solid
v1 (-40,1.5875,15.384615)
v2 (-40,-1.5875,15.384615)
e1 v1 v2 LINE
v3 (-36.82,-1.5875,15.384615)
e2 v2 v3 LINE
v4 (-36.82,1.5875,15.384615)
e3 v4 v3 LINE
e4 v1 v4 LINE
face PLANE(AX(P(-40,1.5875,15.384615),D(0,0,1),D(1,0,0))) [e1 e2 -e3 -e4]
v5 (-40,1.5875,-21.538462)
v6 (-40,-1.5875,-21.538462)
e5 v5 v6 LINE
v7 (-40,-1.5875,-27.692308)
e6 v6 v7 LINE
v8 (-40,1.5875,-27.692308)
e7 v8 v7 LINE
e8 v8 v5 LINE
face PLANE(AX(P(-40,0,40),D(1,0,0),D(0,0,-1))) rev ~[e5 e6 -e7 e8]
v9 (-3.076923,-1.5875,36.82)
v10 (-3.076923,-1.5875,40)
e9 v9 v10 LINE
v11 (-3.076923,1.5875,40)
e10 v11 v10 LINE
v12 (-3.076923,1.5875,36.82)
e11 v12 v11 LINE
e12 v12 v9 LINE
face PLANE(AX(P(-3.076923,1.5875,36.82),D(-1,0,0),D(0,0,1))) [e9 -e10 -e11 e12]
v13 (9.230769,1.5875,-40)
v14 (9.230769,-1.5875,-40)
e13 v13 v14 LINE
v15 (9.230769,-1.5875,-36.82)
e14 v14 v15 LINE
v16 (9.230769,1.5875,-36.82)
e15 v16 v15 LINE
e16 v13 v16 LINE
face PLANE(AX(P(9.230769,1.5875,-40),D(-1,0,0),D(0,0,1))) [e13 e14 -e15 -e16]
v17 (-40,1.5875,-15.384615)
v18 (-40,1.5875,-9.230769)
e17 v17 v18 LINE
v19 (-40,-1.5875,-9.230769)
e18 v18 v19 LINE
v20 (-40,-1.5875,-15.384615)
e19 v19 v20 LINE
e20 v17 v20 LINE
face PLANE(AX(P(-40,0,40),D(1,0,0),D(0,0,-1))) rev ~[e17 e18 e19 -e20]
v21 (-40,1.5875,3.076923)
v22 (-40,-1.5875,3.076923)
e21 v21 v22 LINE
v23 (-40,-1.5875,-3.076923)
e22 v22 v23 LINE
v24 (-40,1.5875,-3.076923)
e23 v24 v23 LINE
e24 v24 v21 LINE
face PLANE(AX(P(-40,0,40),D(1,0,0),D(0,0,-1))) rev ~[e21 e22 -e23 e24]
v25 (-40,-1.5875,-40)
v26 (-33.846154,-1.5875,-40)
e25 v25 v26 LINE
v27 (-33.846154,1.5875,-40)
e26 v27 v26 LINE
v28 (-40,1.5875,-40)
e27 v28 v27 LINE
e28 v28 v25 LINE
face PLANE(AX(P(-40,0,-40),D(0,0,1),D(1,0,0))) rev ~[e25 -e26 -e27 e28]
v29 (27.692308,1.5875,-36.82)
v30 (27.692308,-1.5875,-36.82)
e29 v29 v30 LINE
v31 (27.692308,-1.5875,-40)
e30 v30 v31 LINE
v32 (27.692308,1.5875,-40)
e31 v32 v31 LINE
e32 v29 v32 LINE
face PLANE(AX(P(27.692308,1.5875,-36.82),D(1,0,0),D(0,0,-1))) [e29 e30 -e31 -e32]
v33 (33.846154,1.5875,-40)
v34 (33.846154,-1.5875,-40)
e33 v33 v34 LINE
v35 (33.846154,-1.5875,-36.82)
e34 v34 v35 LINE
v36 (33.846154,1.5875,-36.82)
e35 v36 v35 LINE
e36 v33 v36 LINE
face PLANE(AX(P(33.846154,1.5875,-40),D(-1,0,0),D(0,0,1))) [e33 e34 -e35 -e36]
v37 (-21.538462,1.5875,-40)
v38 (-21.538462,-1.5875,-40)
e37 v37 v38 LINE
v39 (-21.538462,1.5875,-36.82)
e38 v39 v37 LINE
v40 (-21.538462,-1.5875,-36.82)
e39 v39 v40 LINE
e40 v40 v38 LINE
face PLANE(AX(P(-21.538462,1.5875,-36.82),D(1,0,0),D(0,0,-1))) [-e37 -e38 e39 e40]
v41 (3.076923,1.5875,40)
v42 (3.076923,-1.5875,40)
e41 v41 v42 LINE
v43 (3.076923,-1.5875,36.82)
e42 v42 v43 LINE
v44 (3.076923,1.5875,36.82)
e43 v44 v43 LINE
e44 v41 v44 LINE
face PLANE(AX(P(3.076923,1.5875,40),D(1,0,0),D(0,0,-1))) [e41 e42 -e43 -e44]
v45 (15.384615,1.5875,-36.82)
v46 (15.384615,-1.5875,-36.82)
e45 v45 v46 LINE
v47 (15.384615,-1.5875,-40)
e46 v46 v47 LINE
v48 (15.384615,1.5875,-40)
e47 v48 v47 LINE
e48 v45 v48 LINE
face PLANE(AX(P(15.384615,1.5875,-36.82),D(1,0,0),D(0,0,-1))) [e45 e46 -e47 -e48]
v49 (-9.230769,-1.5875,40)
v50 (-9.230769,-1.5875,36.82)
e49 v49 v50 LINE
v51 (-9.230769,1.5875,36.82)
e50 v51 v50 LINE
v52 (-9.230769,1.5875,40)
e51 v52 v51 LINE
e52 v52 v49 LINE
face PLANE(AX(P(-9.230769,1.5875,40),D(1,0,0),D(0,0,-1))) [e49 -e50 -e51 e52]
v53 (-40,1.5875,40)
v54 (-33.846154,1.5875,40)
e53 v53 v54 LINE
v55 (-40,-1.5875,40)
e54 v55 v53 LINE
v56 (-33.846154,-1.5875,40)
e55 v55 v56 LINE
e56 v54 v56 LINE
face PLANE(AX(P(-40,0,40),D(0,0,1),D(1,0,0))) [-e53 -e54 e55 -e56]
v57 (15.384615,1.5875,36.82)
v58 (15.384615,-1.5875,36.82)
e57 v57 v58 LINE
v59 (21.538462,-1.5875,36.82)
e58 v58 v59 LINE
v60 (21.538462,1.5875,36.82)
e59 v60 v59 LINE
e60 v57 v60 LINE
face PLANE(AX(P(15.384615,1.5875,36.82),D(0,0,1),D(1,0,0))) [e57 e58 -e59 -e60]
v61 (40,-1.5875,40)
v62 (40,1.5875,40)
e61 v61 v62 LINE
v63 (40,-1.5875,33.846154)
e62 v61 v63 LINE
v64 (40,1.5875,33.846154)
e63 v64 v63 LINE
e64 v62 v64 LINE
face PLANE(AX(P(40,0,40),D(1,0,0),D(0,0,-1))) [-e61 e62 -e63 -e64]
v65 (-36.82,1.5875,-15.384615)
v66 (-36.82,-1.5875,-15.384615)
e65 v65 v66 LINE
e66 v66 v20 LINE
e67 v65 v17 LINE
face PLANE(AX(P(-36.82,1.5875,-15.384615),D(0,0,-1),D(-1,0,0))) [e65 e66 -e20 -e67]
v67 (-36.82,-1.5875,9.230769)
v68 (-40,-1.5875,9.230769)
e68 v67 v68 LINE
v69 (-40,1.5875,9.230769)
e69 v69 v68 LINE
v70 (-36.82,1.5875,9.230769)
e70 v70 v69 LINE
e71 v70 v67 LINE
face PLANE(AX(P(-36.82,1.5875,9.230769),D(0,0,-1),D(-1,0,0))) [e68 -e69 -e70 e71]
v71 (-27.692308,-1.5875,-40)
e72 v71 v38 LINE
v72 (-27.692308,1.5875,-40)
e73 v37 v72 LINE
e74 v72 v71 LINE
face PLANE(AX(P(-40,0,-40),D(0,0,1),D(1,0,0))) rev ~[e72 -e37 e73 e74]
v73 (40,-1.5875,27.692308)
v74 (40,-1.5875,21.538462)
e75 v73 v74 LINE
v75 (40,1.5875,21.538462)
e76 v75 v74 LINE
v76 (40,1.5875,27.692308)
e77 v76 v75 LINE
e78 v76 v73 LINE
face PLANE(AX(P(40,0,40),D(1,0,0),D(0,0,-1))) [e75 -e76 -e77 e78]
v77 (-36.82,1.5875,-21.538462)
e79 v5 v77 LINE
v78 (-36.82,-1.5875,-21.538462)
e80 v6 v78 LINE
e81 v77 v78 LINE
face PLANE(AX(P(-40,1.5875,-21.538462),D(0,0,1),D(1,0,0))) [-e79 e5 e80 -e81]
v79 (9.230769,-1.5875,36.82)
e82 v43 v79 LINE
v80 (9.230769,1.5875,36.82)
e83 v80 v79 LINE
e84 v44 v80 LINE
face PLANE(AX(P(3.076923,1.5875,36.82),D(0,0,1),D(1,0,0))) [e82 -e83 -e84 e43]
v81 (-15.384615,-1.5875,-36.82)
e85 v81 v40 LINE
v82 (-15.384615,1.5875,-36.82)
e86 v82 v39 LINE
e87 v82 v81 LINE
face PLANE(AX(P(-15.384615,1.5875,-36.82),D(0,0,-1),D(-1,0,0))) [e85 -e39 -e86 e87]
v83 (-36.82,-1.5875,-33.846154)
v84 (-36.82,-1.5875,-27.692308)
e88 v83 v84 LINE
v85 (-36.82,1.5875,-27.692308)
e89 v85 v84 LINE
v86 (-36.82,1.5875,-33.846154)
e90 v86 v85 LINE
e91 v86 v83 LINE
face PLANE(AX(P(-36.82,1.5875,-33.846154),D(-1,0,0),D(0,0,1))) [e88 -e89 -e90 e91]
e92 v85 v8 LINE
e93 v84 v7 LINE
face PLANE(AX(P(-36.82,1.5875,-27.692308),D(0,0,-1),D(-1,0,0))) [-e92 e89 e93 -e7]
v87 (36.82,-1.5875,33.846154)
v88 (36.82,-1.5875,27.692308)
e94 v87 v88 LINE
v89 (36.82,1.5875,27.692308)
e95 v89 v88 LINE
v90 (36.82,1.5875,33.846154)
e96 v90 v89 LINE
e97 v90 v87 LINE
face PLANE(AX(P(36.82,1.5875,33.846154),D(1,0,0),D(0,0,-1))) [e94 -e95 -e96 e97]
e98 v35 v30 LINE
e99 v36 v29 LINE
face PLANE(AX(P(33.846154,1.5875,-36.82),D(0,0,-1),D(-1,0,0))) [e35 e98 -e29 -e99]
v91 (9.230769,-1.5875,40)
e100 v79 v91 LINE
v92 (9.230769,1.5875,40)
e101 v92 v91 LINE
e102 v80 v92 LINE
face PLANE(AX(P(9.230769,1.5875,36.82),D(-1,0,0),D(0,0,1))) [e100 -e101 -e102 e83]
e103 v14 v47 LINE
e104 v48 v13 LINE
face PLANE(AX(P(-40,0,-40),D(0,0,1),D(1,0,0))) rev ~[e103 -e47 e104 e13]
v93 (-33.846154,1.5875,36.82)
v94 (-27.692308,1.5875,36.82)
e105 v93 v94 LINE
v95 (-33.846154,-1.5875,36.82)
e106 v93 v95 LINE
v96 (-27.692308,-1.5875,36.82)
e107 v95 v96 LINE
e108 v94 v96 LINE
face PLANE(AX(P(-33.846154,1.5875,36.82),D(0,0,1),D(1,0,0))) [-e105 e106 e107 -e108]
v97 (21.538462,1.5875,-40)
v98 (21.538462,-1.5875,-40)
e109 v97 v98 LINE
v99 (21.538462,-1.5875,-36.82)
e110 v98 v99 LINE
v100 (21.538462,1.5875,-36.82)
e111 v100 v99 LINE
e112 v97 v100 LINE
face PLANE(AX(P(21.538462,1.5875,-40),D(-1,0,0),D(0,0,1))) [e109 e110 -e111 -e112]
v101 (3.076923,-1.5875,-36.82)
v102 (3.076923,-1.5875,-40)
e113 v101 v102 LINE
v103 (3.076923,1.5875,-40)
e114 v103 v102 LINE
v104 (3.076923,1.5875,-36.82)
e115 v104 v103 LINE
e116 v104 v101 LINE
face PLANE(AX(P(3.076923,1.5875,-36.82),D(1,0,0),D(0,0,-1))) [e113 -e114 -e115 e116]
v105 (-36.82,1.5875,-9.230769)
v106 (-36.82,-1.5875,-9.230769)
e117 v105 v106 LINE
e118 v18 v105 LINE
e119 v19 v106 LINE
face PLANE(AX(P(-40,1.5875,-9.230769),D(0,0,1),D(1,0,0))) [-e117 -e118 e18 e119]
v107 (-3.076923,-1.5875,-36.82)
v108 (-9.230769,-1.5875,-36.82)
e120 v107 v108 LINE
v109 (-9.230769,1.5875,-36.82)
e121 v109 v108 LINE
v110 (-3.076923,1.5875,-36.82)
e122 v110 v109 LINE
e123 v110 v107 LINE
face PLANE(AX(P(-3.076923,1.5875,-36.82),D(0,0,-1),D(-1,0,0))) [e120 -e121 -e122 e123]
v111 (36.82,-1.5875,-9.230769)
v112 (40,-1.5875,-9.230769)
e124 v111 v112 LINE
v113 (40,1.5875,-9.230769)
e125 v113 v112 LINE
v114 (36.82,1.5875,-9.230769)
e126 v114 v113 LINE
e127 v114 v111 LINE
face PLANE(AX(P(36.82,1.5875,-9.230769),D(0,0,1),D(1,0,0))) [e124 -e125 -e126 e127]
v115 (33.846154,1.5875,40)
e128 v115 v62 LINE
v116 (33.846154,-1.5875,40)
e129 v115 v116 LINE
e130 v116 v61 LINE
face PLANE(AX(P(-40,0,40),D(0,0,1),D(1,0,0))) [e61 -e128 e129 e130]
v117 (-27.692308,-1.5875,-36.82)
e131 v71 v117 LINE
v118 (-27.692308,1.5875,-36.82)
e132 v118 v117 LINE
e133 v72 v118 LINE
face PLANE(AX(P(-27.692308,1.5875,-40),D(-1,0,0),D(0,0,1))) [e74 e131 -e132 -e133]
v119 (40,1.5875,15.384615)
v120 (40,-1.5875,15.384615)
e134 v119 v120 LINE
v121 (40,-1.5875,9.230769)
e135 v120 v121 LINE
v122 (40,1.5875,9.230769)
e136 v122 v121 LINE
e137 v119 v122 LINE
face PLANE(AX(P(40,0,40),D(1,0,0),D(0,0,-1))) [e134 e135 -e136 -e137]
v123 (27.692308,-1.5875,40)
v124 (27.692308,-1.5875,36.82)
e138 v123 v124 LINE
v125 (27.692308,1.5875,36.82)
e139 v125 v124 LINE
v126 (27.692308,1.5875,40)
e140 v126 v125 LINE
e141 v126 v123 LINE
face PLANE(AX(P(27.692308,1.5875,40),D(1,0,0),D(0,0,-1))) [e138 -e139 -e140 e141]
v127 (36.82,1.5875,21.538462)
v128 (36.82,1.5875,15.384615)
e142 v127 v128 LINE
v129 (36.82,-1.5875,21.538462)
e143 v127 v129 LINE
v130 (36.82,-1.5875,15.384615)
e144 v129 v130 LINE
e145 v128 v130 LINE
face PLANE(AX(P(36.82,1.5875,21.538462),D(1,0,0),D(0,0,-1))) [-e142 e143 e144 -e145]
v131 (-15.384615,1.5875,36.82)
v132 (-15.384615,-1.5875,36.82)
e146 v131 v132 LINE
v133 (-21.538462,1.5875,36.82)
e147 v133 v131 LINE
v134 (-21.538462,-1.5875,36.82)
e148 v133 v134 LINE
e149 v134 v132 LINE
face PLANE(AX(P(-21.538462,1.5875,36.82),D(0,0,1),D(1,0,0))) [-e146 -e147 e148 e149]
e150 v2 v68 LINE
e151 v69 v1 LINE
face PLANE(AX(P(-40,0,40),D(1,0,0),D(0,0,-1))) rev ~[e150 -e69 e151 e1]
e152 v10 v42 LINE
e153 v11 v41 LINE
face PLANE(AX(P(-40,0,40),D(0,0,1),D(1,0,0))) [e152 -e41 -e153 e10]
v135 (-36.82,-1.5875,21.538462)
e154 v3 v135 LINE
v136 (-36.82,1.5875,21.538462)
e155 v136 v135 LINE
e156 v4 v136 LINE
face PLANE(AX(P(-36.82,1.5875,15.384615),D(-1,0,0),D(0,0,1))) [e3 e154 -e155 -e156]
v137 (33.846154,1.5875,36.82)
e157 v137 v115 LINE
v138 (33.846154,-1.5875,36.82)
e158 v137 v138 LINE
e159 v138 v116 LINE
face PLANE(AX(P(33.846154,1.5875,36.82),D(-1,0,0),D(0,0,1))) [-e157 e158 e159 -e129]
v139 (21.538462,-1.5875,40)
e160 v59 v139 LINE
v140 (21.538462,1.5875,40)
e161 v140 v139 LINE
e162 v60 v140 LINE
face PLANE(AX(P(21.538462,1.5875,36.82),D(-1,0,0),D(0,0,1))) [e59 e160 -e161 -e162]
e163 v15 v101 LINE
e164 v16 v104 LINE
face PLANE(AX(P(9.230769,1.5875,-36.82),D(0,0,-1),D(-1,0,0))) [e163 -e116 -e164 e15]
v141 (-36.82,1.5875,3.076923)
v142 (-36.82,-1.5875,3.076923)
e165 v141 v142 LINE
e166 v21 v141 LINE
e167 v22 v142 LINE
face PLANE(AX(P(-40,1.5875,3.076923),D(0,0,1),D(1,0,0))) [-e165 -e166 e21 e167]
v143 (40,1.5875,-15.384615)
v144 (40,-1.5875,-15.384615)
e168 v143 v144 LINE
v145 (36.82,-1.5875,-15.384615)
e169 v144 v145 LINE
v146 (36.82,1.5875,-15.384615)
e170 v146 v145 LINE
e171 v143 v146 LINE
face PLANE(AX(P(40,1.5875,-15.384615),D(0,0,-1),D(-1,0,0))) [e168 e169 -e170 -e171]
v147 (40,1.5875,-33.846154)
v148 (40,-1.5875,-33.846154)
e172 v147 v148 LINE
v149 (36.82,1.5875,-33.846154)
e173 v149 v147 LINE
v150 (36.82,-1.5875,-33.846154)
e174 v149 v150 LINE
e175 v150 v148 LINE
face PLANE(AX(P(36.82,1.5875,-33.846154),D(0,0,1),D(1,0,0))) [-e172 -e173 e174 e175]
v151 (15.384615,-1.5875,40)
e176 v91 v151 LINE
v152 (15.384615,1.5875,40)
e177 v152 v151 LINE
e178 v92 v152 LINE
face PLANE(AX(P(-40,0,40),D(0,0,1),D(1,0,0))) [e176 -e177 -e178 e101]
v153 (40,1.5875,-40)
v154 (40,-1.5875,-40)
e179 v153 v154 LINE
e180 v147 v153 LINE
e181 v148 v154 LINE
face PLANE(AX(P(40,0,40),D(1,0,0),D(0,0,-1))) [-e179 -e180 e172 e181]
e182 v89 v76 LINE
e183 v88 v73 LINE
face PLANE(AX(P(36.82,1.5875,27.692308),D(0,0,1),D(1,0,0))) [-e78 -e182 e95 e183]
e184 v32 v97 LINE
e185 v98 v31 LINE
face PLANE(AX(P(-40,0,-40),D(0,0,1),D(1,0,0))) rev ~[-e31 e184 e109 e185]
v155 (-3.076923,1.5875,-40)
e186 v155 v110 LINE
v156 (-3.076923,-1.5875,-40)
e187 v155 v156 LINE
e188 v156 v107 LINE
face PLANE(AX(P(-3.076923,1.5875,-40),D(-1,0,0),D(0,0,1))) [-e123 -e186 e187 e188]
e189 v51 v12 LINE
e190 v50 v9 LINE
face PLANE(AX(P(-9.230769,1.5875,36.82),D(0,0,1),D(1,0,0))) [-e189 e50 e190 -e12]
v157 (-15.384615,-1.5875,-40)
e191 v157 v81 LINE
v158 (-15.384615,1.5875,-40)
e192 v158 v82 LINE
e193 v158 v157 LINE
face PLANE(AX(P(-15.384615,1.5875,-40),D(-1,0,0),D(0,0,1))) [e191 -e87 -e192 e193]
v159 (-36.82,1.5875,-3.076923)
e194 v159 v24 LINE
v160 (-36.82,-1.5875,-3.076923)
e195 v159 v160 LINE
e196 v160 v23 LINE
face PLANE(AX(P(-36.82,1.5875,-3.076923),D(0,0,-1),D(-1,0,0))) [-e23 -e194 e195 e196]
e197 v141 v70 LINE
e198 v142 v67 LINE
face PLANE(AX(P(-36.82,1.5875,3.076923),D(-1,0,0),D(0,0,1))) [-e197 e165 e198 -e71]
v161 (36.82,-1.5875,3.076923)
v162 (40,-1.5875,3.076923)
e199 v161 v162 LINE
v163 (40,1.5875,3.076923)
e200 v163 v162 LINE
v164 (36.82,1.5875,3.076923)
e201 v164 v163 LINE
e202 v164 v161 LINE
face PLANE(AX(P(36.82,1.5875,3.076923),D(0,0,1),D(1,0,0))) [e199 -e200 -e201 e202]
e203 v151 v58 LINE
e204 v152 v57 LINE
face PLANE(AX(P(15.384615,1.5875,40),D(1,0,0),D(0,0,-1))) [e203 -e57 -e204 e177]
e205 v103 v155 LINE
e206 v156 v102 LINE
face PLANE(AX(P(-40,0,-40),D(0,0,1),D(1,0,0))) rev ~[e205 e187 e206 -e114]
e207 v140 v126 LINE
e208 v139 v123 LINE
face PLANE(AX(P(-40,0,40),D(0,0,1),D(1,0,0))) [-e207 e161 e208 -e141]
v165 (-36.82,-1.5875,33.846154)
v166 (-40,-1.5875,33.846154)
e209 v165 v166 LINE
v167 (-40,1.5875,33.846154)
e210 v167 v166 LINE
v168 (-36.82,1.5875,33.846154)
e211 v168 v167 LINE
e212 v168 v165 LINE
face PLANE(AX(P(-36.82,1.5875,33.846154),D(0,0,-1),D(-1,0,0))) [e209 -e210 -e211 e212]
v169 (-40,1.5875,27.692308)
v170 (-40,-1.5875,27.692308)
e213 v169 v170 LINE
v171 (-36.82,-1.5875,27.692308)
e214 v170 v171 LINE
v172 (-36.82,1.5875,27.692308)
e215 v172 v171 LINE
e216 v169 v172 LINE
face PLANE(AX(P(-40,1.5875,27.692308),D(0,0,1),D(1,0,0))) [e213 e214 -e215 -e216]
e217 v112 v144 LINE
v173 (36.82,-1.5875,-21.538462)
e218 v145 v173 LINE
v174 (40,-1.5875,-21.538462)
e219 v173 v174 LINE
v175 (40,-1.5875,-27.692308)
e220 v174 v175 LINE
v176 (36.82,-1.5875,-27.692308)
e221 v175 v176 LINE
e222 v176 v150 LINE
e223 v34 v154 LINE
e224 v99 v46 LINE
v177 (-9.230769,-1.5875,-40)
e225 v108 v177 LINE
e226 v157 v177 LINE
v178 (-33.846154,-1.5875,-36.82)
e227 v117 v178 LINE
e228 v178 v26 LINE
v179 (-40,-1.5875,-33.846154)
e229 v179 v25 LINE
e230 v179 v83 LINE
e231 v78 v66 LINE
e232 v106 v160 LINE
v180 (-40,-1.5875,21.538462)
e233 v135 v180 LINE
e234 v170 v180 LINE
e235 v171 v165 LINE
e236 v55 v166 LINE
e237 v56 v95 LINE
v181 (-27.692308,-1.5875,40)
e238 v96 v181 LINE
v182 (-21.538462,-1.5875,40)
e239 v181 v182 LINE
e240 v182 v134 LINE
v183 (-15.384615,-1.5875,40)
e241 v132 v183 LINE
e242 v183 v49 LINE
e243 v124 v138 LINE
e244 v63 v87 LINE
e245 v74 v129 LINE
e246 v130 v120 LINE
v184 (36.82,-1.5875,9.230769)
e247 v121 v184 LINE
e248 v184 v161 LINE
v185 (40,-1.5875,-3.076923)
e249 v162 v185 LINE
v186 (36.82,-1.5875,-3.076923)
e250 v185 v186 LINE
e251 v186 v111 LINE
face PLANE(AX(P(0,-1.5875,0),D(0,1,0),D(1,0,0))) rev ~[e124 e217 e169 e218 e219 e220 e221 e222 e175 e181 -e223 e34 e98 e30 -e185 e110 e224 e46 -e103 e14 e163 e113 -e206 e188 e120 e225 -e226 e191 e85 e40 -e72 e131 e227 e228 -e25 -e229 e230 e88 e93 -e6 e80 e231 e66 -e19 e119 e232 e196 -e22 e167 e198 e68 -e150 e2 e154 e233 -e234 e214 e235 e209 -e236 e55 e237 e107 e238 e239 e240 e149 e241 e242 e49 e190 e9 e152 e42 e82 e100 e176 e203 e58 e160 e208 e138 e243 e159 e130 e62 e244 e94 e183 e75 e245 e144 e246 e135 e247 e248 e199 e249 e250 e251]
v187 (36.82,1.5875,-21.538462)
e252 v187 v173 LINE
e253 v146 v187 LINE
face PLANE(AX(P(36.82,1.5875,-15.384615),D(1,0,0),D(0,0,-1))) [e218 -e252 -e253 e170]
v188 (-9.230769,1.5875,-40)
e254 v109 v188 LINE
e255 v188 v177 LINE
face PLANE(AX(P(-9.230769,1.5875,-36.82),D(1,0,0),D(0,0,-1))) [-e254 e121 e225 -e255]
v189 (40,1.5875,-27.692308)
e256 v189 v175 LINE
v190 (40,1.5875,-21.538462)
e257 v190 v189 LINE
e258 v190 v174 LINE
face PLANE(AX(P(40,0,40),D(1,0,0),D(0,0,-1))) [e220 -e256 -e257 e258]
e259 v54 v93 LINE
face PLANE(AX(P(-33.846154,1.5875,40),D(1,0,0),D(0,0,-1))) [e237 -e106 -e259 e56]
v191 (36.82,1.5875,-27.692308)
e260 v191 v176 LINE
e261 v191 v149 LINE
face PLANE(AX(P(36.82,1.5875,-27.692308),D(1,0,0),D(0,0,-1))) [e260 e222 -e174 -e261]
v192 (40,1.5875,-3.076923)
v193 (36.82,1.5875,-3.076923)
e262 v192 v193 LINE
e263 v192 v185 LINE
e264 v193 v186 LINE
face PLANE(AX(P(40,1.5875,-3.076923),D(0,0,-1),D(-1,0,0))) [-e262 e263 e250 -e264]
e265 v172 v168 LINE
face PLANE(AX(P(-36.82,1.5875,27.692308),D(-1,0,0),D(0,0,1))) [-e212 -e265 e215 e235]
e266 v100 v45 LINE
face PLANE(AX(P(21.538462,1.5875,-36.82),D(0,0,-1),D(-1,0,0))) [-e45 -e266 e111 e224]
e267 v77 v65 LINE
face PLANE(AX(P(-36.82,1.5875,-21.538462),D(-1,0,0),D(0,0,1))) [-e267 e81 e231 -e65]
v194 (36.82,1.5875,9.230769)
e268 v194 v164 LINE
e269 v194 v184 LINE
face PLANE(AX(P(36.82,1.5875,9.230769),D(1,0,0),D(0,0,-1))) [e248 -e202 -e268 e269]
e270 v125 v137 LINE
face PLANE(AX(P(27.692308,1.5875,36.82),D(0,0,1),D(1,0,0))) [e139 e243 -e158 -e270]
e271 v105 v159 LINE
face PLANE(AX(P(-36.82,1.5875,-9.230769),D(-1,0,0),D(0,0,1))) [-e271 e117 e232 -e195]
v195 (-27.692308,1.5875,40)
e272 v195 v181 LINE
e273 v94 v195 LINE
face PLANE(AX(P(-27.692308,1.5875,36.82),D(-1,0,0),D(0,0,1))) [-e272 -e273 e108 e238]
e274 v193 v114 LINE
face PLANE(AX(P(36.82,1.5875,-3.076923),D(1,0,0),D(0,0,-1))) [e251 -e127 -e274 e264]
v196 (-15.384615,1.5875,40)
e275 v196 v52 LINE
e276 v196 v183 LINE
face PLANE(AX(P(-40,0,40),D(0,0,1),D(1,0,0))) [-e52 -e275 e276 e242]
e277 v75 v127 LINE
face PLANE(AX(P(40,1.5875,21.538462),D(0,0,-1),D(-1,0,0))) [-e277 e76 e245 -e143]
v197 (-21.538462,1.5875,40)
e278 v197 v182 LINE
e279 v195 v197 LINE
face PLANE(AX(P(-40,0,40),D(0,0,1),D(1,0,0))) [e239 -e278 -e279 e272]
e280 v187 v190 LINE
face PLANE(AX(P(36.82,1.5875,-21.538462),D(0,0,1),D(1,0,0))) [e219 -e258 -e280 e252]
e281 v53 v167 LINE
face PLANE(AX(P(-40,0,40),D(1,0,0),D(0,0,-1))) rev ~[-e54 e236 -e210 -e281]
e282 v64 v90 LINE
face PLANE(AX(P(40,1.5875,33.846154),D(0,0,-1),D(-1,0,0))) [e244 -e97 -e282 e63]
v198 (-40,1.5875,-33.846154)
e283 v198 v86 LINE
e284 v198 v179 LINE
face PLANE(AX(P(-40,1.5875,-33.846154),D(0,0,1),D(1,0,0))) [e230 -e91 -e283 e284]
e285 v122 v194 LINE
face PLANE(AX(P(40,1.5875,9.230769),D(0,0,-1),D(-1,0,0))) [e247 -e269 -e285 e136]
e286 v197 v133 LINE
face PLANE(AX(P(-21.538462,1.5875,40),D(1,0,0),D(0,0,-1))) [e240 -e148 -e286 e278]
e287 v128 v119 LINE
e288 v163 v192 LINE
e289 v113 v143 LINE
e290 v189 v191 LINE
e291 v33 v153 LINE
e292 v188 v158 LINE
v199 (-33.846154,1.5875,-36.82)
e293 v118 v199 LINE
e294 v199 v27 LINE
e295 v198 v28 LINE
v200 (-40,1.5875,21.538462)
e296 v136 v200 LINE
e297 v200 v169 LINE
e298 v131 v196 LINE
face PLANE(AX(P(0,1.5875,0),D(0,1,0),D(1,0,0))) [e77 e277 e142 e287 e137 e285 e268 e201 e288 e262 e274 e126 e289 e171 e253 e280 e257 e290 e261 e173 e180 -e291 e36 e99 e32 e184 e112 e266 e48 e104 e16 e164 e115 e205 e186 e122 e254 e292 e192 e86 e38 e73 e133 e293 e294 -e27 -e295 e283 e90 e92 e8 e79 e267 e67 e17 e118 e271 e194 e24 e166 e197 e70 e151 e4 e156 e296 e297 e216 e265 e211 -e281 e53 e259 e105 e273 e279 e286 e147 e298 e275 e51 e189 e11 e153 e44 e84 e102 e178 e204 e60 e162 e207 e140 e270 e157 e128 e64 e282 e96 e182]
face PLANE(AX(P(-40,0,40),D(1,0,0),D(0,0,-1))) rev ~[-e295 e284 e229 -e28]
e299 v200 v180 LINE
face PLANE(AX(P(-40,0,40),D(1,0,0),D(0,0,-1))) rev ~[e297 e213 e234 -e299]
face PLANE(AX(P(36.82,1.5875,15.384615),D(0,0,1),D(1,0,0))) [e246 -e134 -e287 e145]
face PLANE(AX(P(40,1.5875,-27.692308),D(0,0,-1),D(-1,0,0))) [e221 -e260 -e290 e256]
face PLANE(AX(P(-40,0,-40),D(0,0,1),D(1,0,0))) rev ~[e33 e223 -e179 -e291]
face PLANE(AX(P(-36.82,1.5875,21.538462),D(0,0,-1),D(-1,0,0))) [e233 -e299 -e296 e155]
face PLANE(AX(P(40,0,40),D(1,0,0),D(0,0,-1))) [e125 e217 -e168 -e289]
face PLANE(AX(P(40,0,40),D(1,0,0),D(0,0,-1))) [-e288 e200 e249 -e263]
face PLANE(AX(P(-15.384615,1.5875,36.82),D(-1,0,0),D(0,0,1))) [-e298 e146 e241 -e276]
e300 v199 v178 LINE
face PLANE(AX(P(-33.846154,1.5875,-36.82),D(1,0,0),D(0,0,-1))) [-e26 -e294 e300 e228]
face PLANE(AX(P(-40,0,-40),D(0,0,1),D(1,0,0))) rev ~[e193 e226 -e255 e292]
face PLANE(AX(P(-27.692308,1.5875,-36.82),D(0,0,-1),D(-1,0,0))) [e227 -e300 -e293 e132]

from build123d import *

# Parameters (mm, degrees)
SKETCH1_W           = 80
SKETCH1_H           = 80
BOSS_EXTRUDE1_DEPTH = 1.5875
SKETCH2_OUTSIDE_W   = 104.636
SKETCH2_OUTSIDE_H   = 104.636
CUT_EXTRUDE1_DEPTH  = 57.657573413


with BuildPart() as part:
    # Sketch1 → Boss-Extrude1 (new, symmetric)
    with BuildSketch(Plane(origin=(0, 0, 0), x_dir=(1, 0, 0), z_dir=(0, 1, 0))):
        Rectangle(SKETCH1_W, SKETCH1_H)
    extrude(amount=BOSS_EXTRUDE1_DEPTH, both=True)

    # Sketch2 outside → Cut-Extrude1 (cut, through all)
    with BuildSketch(Plane(origin=(0, 1.5875, 0), x_dir=(1, 0, 0), z_dir=(0, 1, 0))):
        Rectangle(SKETCH2_OUTSIDE_W, SKETCH2_OUTSIDE_H)
        Polygon((-40, 40), (-40, 33.846153846), (-36.82, 33.846153846), (-36.82, 27.692307692), (-40, 27.692307692), (-40, 21.538461538), (-36.82, 21.538461538), (-36.82, 15.384615385), (-40, 15.384615385), (-40, 9.230769231), (-36.82, 9.230769231), (-36.82, 3.076923077), (-40, 3.076923077), (-40, -3.076923077), (-36.82, -3.076923077), (-36.82, -9.230769231), (-40, -9.230769231), (-40, -15.384615385), (-36.82, -15.384615385), (-36.82, -21.538461538), (-40, -21.538461538), (-40, -27.692307692), (-36.82, -27.692307692), (-36.82, -33.846153846), (-40, -33.846153846), (-40, -40), (-33.846153846, -40), (-33.846153846, -36.82), (-27.692307692, -36.82), (-27.692307692, -40), (-21.538461538, -40), (-21.538461538, -36.82), (-15.384615385, -36.82), (-15.384615385, -40), (-9.230769231, -40), (-9.230769231, -36.82), (-3.076923077, -36.82), (-3.076923077, -40), (3.076923077, -40), (3.076923077, -36.82), (9.230769231, -36.82), (9.230769231, -40), (15.384615385, -40), (15.384615385, -36.82), (21.538461538, -36.82), (21.538461538, -40), (27.692307692, -40), (27.692307692, -36.82), (33.846153846, -36.82), (33.846153846, -40), (40, -40), (40, -33.846153846), (36.82, -33.846153846), (36.82, -27.692307692), (40, -27.692307692), (40, -21.538461538), (36.82, -21.538461538), (36.82, -15.384615385), (40, -15.384615385), (40, -9.230769231), (36.82, -9.230769231), (36.82, -3.076923077), (40, -3.076923077), (40, 3.076923077), (36.82, 3.076923077), (36.82, 9.230769231), (40, 9.230769231), (40, 15.384615385), (36.82, 15.384615385), (36.82, 21.538461538), (40, 21.538461538), (40, 27.692307692), (36.82, 27.692307692), (36.82, 33.846153846), (40, 33.846153846), (40, 40), (33.846153846, 40), (33.846153846, 36.82), (27.692307692, 36.82), (27.692307692, 40), (21.538461538, 40), (21.538461538, 36.82), (15.384615385, 36.82), (15.384615385, 40), (9.230769231, 40), (9.230769231, 36.82), (3.076923077, 36.82), (3.076923077, 40), (-3.076923077, 40), (-3.076923077, 36.82), (-9.230769231, 36.82), (-9.230769231, 40), (-15.384615385, 40), (-15.384615385, 36.82), (-21.538461538, 36.82), (-21.538461538, 40), (-27.692307692, 40), (-27.692307692, 36.82), (-33.846153846, 36.82), (-33.846153846, 40), align=None, mode=Mode.SUBTRACT)
    extrude(amount=-CUT_EXTRUDE1_DEPTH, mode=Mode.SUBTRACT)


solid = part.part
